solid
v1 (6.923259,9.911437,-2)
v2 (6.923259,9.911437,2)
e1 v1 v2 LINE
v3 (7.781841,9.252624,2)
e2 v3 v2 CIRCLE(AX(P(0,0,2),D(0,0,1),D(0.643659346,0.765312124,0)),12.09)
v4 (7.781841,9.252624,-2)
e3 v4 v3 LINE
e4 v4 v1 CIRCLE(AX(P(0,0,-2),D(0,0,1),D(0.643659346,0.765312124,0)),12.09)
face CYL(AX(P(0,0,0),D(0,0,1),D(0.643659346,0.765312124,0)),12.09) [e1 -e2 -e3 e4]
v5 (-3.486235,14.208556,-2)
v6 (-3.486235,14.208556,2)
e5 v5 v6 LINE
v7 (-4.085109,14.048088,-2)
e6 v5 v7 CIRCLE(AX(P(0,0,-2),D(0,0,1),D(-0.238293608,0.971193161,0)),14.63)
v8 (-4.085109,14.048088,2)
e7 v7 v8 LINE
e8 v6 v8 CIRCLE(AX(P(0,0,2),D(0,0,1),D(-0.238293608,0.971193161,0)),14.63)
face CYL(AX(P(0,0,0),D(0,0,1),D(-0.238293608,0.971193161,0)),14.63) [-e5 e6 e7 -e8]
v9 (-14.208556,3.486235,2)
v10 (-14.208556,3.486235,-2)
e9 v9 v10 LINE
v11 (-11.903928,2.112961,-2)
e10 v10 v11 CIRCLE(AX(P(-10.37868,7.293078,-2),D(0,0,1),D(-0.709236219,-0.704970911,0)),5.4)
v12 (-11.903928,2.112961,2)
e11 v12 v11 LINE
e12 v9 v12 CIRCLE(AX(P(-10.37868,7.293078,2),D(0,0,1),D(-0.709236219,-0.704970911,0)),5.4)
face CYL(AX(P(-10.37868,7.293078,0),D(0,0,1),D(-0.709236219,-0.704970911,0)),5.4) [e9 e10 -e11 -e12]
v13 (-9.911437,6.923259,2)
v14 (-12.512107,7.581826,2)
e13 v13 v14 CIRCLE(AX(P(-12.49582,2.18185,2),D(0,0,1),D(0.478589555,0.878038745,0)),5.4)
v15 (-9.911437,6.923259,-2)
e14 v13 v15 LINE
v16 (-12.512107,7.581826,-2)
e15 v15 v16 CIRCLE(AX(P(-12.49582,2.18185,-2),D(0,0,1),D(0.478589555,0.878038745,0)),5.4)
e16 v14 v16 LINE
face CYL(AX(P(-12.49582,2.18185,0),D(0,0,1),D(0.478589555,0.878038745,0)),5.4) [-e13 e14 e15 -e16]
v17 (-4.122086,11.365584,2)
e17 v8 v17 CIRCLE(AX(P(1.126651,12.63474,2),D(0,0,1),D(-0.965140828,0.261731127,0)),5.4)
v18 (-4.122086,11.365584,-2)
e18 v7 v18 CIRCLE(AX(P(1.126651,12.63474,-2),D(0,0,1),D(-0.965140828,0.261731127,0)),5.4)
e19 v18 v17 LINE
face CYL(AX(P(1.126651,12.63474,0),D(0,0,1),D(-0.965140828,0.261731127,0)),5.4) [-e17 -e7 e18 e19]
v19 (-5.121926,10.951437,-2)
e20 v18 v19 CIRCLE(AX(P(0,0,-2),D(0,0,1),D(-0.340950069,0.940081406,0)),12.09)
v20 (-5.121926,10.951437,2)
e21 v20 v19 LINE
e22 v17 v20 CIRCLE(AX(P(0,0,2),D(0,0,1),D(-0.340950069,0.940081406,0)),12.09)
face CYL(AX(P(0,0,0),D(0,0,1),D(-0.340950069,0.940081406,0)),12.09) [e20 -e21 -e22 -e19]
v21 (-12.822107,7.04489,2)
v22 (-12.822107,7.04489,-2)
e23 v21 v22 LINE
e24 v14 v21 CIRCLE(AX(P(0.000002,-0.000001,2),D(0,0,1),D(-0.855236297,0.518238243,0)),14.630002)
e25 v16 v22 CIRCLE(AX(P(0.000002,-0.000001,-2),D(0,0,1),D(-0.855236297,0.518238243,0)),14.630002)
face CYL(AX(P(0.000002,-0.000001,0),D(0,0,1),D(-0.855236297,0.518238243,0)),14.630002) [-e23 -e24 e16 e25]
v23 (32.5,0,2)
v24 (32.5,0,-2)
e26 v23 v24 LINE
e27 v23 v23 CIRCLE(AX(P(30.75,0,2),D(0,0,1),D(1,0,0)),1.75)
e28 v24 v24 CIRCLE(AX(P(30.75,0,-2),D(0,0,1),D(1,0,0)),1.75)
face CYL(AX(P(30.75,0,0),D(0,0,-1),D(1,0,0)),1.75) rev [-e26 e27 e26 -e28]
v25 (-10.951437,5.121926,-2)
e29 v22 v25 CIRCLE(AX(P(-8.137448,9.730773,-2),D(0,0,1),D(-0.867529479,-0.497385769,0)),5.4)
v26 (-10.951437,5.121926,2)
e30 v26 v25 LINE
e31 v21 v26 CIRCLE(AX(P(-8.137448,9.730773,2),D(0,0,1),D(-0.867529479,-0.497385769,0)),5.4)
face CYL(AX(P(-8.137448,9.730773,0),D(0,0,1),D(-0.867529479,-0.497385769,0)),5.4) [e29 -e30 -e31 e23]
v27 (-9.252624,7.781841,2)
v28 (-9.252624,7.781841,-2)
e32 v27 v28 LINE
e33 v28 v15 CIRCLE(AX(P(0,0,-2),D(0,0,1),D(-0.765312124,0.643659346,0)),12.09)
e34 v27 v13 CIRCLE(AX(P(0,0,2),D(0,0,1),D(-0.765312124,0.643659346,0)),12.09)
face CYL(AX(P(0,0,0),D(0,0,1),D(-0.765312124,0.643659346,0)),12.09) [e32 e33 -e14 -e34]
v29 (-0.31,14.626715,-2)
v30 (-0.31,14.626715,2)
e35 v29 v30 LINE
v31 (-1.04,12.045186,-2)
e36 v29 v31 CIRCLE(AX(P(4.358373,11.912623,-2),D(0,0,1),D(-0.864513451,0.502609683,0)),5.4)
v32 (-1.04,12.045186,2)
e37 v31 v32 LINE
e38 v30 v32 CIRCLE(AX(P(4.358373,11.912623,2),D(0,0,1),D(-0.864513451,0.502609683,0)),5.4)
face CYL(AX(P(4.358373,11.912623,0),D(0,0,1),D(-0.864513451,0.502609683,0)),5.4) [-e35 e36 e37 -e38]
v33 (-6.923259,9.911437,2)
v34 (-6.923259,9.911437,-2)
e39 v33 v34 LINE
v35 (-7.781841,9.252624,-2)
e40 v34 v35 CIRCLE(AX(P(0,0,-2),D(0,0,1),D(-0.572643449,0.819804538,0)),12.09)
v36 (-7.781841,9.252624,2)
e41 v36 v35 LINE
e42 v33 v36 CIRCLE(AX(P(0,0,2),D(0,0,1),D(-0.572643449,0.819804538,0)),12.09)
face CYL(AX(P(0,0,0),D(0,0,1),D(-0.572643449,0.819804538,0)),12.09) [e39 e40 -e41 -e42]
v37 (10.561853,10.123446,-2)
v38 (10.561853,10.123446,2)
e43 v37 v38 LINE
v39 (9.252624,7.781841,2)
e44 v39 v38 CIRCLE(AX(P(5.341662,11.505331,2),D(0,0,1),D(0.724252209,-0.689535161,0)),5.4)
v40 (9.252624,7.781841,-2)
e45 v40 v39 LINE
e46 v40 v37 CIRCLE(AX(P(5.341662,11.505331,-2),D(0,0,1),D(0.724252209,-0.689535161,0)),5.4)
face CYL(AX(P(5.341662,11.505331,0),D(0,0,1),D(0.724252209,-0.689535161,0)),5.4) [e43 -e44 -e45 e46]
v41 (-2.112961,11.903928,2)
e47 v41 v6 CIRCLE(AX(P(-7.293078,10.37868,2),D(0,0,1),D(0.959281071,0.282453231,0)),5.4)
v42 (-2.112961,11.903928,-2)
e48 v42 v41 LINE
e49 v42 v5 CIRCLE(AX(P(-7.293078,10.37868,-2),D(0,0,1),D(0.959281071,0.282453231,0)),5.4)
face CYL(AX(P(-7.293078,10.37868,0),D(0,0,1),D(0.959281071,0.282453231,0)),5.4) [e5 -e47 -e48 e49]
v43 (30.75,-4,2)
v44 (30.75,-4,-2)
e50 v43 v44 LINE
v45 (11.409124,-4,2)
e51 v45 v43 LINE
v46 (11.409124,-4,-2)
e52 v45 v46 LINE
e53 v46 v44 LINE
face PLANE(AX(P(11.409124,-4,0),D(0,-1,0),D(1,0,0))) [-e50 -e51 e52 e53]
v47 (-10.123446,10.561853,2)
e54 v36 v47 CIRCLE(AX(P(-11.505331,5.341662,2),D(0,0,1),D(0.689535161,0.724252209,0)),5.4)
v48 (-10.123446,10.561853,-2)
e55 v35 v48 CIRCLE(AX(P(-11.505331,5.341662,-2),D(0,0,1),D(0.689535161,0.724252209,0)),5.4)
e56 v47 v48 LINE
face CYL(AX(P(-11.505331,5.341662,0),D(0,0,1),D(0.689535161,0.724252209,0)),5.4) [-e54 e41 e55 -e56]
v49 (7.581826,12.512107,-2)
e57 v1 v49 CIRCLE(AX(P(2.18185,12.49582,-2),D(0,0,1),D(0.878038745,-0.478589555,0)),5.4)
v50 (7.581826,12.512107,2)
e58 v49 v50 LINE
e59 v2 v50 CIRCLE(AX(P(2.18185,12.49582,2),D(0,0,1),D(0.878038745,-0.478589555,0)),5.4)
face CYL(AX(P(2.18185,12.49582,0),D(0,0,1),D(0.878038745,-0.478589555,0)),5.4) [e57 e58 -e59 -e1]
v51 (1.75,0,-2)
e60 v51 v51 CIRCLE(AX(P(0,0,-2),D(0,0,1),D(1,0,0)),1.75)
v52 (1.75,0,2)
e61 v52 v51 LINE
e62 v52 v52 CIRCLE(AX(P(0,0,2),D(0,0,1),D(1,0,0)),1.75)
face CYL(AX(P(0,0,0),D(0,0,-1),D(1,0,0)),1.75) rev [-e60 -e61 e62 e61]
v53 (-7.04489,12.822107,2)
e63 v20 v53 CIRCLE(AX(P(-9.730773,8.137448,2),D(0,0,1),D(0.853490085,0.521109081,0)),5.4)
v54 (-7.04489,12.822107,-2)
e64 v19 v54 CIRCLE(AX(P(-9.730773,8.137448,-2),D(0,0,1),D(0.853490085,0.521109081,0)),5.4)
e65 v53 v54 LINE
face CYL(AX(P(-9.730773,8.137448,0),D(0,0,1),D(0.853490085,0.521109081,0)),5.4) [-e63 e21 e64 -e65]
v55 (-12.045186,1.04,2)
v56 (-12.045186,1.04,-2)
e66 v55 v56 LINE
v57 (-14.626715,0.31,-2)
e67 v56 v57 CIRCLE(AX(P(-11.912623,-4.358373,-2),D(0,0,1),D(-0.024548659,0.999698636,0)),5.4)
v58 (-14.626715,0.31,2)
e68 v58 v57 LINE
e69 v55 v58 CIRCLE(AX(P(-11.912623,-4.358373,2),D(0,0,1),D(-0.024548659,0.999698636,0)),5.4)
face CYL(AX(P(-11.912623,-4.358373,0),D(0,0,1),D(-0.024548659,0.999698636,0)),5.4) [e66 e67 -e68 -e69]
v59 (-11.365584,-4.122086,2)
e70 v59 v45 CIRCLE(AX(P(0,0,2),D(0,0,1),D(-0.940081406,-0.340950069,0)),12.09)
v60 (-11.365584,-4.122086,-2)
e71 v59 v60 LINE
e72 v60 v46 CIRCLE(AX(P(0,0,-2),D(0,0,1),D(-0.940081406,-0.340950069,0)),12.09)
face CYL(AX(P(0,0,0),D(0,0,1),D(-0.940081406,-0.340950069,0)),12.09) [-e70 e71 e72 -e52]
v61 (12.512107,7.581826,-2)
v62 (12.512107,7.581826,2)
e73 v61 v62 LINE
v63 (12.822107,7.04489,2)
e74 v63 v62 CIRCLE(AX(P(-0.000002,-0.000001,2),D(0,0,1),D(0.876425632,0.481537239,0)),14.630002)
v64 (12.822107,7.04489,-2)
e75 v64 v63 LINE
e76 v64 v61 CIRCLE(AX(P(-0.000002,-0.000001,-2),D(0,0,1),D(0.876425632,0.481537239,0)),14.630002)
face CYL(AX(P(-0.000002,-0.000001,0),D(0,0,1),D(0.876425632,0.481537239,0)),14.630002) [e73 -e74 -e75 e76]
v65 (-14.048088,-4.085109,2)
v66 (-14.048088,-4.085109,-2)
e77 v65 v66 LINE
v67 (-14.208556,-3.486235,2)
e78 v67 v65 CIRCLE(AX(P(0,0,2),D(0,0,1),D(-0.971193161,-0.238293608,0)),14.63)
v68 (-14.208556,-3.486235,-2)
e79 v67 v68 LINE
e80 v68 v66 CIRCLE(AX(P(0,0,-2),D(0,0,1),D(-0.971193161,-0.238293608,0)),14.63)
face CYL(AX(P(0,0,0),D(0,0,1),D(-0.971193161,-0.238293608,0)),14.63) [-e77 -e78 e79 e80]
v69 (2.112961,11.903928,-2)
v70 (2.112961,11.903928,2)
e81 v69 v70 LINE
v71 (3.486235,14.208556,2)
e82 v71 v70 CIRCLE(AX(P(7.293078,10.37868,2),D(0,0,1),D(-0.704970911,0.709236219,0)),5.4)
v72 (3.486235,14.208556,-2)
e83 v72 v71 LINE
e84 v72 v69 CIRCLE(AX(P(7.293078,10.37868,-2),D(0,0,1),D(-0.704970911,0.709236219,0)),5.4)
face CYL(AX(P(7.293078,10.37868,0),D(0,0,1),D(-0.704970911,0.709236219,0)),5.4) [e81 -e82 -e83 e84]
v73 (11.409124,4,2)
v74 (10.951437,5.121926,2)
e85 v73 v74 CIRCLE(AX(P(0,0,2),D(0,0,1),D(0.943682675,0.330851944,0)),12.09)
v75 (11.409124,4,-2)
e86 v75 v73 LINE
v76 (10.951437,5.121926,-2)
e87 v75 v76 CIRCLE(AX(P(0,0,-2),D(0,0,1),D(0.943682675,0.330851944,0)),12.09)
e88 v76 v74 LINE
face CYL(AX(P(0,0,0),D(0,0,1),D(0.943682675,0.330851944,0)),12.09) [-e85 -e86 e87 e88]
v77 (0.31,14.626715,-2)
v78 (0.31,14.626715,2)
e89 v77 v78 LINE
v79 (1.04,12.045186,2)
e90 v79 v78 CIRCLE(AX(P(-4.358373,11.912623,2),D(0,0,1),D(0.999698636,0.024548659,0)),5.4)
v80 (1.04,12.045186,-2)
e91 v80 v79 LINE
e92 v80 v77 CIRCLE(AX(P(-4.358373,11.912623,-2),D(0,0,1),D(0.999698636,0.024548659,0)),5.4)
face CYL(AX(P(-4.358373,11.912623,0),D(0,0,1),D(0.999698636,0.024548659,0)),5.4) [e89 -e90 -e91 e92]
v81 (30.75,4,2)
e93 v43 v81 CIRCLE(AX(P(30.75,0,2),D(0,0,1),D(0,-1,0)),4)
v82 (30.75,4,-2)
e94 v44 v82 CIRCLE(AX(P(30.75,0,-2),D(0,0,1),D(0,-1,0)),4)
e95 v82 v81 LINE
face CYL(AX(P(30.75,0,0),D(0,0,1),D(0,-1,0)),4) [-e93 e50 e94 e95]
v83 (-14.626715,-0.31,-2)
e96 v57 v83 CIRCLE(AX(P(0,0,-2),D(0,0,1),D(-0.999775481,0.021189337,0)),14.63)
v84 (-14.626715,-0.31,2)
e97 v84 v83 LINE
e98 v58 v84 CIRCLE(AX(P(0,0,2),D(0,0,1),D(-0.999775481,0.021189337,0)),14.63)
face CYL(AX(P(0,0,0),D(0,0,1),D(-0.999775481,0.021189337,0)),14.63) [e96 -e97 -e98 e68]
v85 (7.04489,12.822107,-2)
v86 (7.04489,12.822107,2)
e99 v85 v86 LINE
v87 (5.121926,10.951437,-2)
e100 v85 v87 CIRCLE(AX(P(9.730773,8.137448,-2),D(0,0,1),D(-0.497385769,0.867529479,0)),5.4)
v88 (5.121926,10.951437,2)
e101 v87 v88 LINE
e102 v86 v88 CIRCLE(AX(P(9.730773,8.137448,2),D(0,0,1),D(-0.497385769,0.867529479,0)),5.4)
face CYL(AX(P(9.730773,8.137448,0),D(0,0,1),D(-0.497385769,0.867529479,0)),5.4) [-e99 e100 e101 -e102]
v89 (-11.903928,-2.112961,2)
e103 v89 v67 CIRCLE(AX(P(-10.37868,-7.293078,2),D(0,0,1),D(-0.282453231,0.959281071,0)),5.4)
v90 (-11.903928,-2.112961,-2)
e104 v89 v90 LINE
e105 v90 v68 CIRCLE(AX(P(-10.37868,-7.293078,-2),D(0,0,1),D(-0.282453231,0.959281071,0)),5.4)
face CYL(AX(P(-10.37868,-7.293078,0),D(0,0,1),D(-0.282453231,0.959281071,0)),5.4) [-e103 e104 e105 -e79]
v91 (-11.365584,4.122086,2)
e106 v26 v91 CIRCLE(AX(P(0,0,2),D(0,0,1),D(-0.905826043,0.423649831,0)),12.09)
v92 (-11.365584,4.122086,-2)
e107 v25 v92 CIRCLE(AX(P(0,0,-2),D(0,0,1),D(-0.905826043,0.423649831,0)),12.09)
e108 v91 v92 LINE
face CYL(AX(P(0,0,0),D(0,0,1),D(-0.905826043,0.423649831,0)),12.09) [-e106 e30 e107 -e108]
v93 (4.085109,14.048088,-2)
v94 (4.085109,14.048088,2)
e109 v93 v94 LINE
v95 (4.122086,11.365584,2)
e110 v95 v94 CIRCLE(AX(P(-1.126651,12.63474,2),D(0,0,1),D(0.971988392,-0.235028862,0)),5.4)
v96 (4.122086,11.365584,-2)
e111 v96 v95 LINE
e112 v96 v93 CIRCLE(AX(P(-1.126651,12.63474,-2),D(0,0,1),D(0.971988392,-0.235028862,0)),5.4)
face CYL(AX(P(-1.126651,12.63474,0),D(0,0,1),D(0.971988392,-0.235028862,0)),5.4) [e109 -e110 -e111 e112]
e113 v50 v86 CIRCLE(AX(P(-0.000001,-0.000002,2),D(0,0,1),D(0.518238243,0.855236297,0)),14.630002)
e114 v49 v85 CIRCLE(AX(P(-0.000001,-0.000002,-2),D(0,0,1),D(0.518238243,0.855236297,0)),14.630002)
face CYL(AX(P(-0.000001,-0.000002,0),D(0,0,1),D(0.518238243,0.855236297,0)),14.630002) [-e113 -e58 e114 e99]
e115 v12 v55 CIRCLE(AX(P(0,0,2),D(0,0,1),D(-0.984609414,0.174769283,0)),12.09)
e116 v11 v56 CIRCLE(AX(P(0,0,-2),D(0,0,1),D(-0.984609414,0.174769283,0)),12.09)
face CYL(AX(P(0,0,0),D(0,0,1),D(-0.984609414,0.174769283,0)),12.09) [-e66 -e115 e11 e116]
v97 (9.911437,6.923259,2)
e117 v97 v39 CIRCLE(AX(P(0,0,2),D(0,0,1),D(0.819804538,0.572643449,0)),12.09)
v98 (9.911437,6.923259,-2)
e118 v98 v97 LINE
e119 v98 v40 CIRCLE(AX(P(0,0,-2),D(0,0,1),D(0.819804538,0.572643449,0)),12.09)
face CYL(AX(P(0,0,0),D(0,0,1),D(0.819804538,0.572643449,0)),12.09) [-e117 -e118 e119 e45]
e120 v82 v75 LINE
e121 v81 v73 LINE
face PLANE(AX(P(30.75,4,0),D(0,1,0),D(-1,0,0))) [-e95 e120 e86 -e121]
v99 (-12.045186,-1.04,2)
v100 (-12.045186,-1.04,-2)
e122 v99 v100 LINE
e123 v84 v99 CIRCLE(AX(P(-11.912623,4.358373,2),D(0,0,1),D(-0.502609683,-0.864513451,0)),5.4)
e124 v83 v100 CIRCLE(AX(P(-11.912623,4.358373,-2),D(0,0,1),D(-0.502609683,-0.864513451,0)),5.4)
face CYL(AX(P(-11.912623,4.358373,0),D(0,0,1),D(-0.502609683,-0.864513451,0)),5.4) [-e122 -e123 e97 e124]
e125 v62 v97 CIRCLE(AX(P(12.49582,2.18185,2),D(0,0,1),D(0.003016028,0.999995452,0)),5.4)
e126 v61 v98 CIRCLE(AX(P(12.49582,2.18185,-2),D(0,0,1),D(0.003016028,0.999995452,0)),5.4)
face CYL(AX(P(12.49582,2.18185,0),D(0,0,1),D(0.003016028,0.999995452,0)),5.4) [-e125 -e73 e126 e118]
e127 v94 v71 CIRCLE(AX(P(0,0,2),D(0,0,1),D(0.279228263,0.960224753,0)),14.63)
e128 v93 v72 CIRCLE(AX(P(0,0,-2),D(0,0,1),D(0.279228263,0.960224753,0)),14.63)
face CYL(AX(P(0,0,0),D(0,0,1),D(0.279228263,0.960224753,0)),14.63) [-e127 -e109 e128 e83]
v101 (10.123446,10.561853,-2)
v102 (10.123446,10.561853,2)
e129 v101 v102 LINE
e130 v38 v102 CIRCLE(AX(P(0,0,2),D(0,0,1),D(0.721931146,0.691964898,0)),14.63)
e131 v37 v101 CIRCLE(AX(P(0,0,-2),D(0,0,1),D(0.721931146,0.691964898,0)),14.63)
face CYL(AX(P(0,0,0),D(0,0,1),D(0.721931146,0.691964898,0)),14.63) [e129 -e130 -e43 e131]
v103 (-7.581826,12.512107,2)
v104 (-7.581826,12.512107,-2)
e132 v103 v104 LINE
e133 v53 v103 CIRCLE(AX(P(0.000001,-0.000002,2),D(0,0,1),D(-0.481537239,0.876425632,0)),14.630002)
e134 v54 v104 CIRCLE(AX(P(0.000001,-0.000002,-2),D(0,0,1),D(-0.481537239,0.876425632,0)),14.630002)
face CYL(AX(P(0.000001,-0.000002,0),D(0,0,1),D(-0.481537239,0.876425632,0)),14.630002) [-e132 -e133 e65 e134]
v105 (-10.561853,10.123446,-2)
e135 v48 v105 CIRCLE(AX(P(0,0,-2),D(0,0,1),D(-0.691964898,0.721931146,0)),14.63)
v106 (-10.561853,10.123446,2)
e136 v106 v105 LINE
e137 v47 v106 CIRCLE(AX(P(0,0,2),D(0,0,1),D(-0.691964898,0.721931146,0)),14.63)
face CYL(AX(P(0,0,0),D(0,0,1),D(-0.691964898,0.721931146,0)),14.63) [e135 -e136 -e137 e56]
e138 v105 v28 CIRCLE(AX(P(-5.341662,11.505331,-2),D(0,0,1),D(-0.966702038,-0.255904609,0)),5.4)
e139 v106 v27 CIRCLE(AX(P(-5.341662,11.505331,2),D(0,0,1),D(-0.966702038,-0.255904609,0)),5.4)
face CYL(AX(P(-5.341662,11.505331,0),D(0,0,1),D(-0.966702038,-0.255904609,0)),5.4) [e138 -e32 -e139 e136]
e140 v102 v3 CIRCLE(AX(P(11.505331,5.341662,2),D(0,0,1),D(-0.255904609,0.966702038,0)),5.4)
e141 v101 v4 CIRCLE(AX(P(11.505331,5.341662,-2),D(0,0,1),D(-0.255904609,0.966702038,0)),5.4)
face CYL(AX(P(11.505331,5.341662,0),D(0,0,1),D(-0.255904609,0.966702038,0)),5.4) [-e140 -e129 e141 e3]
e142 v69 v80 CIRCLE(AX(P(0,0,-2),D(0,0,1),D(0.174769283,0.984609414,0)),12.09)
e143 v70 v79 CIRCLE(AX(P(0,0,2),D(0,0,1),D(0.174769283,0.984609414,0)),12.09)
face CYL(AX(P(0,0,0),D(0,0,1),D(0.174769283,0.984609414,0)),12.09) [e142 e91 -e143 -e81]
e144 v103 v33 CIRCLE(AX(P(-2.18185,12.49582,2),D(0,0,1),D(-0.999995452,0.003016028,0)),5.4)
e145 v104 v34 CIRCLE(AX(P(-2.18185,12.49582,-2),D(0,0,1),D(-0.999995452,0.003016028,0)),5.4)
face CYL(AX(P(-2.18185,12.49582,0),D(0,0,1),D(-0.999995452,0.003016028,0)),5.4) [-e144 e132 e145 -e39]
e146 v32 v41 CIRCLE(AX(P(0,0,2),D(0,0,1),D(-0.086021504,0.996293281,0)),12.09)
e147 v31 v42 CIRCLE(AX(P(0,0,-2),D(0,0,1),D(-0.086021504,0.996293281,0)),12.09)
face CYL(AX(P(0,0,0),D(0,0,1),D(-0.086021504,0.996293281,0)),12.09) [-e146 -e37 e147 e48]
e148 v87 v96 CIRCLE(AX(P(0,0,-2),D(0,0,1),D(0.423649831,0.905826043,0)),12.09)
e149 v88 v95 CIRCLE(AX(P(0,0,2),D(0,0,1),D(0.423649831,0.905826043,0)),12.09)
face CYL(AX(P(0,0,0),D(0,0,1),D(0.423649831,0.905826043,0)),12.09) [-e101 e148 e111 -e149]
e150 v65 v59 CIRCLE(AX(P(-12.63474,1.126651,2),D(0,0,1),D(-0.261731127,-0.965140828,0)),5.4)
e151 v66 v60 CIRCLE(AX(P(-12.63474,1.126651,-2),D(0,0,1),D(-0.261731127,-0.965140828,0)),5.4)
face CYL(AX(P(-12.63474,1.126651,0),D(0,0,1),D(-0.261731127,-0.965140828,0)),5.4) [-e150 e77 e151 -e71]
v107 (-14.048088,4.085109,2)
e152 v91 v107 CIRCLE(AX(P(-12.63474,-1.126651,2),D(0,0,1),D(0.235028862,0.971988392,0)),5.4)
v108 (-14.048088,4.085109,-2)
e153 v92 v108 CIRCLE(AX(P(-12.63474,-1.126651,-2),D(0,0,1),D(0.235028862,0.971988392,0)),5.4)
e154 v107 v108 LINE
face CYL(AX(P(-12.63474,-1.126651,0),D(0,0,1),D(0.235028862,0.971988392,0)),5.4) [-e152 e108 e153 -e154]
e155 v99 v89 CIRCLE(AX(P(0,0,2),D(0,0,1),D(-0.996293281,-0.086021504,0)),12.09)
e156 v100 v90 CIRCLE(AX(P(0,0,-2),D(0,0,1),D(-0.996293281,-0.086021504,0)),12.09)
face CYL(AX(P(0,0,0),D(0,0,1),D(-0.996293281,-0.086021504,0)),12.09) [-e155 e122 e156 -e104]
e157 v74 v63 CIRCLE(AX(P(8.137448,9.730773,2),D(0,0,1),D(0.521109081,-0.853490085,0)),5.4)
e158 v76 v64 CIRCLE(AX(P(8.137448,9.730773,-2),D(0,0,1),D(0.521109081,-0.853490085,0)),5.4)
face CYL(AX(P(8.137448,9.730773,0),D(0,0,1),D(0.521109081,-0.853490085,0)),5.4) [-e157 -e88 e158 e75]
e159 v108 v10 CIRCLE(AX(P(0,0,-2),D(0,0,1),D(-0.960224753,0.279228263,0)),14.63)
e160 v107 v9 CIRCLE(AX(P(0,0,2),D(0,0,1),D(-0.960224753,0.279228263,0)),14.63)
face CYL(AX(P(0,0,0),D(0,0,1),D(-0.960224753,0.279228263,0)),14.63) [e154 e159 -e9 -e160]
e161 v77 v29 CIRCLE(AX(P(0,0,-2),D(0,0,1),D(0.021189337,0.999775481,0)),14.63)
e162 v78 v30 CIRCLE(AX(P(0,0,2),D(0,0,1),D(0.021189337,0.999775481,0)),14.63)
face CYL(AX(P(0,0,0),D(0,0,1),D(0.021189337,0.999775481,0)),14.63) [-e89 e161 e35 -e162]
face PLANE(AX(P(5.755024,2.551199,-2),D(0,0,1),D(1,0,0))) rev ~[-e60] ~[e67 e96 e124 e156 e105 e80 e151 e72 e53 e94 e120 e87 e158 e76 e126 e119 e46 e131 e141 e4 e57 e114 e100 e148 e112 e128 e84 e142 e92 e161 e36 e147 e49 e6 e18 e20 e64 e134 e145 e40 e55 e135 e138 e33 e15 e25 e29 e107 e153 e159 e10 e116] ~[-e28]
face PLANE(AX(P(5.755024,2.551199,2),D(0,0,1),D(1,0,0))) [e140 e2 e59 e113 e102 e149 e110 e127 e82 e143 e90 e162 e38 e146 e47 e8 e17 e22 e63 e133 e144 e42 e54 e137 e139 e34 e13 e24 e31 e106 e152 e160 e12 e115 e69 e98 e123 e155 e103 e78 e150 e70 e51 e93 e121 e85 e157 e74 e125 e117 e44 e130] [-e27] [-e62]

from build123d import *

# Parameters (mm, degrees)
ESQUISSE1_R        = 1.75
BOSS_EXTRU_1_DEPTH = 2


with BuildPart() as part:
    # Esquisse1 → Boss.-Extru.1 (new body, symmetric)
    with BuildSketch(Plane.XY):
        with BuildLine():
            ThreePointArc((30.75, -4), (34.75, 0), (30.75, 4))
            Line((30.75, 4), (11.409123542, 4))
            ThreePointArc((11.409123542, 4), (11.194344337, 4.566700654), (10.951436862, 5.12192646))
            ThreePointArc((10.951436862, 5.12192646), (12.008090957, 5.965388247), (12.82210701, 7.044889767))
            ThreePointArc((12.82210701, 7.044889767), (12.669951657, 7.315), (12.51210701, 7.581825517))
            ThreePointArc((12.51210701, 7.581825517), (11.170223244, 7.416617696), (9.911436862, 6.9232593))
            ThreePointArc((9.911436862, 6.9232593), (9.591641884, 7.359925677), (9.252623584, 7.781841479))
            ThreePointArc((9.252623584, 7.781841479), (10.05496909, 8.870045207), (10.561852666, 10.123446462))
            ThreePointArc((10.561852666, 10.123446462), (10.344972209, 10.344972209), (10.123446462, 10.561852666))
            ThreePointArc((10.123446462, 10.561852666), (8.870045207, 10.05496909), (7.781841479, 9.252623584))
            ThreePointArc((7.781841479, 9.252623584), (7.359925677, 9.591641884), (6.9232593, 9.911436862))
            ThreePointArc((6.9232593, 9.911436862), (7.416617696, 11.170223244), (7.581825517, 12.51210701))
            ThreePointArc((7.581825517, 12.51210701), (7.315, 12.669951657), (7.044889767, 12.82210701))
            ThreePointArc((7.044889767, 12.82210701), (5.965388247, 12.008090957), (5.12192646, 10.951436862))
            ThreePointArc((5.12192646, 10.951436862), (4.626642697, 11.169703548), (4.122086336, 11.365584201))
            ThreePointArc((4.122086336, 11.365584201), (4.272836063, 12.709169027), (4.085109489, 14.048088143))
            ThreePointArc((4.085109489, 14.048088143), (3.78652263, 14.131494839), (3.486235477, 14.208555951))
            ThreePointArc((3.486235477, 14.208555951), (2.654199937, 13.14288127), (2.112960617, 11.903927815))
            ThreePointArc((2.112960617, 11.903927815), (1.578061664, 11.986568374), (1.04, 12.04518576))
            ThreePointArc((1.04, 12.04518576), (0.837867713, 13.382005944), (0.31, 14.626715284))
            ThreePointArc((0.31, 14.626715284), (0, 14.63), (-0.31, 14.626715284))
            ThreePointArc((-0.31, 14.626715284), (-0.837867713, 13.382005944), (-1.04, 12.04518576))
            ThreePointArc((-1.04, 12.04518576), (-1.578061664, 11.986568374), (-2.112960617, 11.903927815))
            ThreePointArc((-2.112960617, 11.903927815), (-2.654199937, 13.14288127), (-3.486235477, 14.208555951))
            ThreePointArc((-3.486235477, 14.208555951), (-3.78652263, 14.131494839), (-4.085109489, 14.048088143))
            ThreePointArc((-4.085109489, 14.048088143), (-4.272836063, 12.709169027), (-4.122086336, 11.365584201))
            ThreePointArc((-4.122086336, 11.365584201), (-4.626642697, 11.169703548), (-5.12192646, 10.951436862))
            ThreePointArc((-5.12192646, 10.951436862), (-5.965388247, 12.008090957), (-7.044889767, 12.82210701))
            ThreePointArc((-7.044889767, 12.82210701), (-7.315, 12.669951657), (-7.581825517, 12.51210701))
            ThreePointArc((-7.581825517, 12.51210701), (-7.416617696, 11.170223244), (-6.9232593, 9.911436862))
            ThreePointArc((-6.9232593, 9.911436862), (-7.359925677, 9.591641884), (-7.781841479, 9.252623584))
            ThreePointArc((-7.781841479, 9.252623584), (-8.870045207, 10.05496909), (-10.123446462, 10.561852666))
            ThreePointArc((-10.123446462, 10.561852666), (-10.344972209, 10.344972209), (-10.561852666, 10.123446462))
            ThreePointArc((-10.561852666, 10.123446462), (-10.05496909, 8.870045207), (-9.252623584, 7.781841479))
            ThreePointArc((-9.252623584, 7.781841479), (-9.591641884, 7.359925677), (-9.911436862, 6.9232593))
            ThreePointArc((-9.911436862, 6.9232593), (-11.170223244, 7.416617696), (-12.51210701, 7.581825517))
            ThreePointArc((-12.51210701, 7.581825517), (-12.669951657, 7.315), (-12.82210701, 7.044889767))
            ThreePointArc((-12.82210701, 7.044889767), (-12.008090957, 5.965388247), (-10.951436862, 5.12192646))
            ThreePointArc((-10.951436862, 5.12192646), (-11.169703548, 4.626642697), (-11.365584201, 4.122086336))
            ThreePointArc((-11.365584201, 4.122086336), (-12.709169027, 4.272836063), (-14.048088143, 4.085109489))
            ThreePointArc((-14.048088143, 4.085109489), (-14.131494839, 3.78652263), (-14.208555951, 3.486235477))
            ThreePointArc((-14.208555951, 3.486235477), (-13.14288127, 2.654199937), (-11.903927815, 2.112960617))
            ThreePointArc((-11.903927815, 2.112960617), (-11.986568374, 1.578061664), (-12.04518576, 1.04))
            ThreePointArc((-12.04518576, 1.04), (-13.382005944, 0.837867713), (-14.626715284, 0.31))
            ThreePointArc((-14.626715284, 0.31), (-14.63, 0), (-14.626715284, -0.31))
            ThreePointArc((-14.626715284, -0.31), (-13.382005944, -0.837867713), (-12.04518576, -1.04))
            ThreePointArc((-12.04518576, -1.04), (-11.986568374, -1.578061664), (-11.903927815, -2.112960617))
            ThreePointArc((-11.903927815, -2.112960617), (-13.14288127, -2.654199937), (-14.208555951, -3.486235477))
            ThreePointArc((-14.208555951, -3.486235477), (-14.131494839, -3.78652263), (-14.048088143, -4.085109489))
            ThreePointArc((-14.048088143, -4.085109489), (-12.709169027, -4.272836063), (-11.365584201, -4.122086336))
            ThreePointArc((-11.365584201, -4.122086336), (0.064808849, -12.089826294), (11.409123542, -4))
            Line((11.409123542, -4), (30.75, -4))
        make_face()
        with Locations((30.75, 0)):
            Circle(ESQUISSE1_R, mode=Mode.SUBTRACT)
        Circle(ESQUISSE1_R, mode=Mode.SUBTRACT)
    extrude(amount=BOSS_EXTRU_1_DEPTH, both=True)


solid = part.part
